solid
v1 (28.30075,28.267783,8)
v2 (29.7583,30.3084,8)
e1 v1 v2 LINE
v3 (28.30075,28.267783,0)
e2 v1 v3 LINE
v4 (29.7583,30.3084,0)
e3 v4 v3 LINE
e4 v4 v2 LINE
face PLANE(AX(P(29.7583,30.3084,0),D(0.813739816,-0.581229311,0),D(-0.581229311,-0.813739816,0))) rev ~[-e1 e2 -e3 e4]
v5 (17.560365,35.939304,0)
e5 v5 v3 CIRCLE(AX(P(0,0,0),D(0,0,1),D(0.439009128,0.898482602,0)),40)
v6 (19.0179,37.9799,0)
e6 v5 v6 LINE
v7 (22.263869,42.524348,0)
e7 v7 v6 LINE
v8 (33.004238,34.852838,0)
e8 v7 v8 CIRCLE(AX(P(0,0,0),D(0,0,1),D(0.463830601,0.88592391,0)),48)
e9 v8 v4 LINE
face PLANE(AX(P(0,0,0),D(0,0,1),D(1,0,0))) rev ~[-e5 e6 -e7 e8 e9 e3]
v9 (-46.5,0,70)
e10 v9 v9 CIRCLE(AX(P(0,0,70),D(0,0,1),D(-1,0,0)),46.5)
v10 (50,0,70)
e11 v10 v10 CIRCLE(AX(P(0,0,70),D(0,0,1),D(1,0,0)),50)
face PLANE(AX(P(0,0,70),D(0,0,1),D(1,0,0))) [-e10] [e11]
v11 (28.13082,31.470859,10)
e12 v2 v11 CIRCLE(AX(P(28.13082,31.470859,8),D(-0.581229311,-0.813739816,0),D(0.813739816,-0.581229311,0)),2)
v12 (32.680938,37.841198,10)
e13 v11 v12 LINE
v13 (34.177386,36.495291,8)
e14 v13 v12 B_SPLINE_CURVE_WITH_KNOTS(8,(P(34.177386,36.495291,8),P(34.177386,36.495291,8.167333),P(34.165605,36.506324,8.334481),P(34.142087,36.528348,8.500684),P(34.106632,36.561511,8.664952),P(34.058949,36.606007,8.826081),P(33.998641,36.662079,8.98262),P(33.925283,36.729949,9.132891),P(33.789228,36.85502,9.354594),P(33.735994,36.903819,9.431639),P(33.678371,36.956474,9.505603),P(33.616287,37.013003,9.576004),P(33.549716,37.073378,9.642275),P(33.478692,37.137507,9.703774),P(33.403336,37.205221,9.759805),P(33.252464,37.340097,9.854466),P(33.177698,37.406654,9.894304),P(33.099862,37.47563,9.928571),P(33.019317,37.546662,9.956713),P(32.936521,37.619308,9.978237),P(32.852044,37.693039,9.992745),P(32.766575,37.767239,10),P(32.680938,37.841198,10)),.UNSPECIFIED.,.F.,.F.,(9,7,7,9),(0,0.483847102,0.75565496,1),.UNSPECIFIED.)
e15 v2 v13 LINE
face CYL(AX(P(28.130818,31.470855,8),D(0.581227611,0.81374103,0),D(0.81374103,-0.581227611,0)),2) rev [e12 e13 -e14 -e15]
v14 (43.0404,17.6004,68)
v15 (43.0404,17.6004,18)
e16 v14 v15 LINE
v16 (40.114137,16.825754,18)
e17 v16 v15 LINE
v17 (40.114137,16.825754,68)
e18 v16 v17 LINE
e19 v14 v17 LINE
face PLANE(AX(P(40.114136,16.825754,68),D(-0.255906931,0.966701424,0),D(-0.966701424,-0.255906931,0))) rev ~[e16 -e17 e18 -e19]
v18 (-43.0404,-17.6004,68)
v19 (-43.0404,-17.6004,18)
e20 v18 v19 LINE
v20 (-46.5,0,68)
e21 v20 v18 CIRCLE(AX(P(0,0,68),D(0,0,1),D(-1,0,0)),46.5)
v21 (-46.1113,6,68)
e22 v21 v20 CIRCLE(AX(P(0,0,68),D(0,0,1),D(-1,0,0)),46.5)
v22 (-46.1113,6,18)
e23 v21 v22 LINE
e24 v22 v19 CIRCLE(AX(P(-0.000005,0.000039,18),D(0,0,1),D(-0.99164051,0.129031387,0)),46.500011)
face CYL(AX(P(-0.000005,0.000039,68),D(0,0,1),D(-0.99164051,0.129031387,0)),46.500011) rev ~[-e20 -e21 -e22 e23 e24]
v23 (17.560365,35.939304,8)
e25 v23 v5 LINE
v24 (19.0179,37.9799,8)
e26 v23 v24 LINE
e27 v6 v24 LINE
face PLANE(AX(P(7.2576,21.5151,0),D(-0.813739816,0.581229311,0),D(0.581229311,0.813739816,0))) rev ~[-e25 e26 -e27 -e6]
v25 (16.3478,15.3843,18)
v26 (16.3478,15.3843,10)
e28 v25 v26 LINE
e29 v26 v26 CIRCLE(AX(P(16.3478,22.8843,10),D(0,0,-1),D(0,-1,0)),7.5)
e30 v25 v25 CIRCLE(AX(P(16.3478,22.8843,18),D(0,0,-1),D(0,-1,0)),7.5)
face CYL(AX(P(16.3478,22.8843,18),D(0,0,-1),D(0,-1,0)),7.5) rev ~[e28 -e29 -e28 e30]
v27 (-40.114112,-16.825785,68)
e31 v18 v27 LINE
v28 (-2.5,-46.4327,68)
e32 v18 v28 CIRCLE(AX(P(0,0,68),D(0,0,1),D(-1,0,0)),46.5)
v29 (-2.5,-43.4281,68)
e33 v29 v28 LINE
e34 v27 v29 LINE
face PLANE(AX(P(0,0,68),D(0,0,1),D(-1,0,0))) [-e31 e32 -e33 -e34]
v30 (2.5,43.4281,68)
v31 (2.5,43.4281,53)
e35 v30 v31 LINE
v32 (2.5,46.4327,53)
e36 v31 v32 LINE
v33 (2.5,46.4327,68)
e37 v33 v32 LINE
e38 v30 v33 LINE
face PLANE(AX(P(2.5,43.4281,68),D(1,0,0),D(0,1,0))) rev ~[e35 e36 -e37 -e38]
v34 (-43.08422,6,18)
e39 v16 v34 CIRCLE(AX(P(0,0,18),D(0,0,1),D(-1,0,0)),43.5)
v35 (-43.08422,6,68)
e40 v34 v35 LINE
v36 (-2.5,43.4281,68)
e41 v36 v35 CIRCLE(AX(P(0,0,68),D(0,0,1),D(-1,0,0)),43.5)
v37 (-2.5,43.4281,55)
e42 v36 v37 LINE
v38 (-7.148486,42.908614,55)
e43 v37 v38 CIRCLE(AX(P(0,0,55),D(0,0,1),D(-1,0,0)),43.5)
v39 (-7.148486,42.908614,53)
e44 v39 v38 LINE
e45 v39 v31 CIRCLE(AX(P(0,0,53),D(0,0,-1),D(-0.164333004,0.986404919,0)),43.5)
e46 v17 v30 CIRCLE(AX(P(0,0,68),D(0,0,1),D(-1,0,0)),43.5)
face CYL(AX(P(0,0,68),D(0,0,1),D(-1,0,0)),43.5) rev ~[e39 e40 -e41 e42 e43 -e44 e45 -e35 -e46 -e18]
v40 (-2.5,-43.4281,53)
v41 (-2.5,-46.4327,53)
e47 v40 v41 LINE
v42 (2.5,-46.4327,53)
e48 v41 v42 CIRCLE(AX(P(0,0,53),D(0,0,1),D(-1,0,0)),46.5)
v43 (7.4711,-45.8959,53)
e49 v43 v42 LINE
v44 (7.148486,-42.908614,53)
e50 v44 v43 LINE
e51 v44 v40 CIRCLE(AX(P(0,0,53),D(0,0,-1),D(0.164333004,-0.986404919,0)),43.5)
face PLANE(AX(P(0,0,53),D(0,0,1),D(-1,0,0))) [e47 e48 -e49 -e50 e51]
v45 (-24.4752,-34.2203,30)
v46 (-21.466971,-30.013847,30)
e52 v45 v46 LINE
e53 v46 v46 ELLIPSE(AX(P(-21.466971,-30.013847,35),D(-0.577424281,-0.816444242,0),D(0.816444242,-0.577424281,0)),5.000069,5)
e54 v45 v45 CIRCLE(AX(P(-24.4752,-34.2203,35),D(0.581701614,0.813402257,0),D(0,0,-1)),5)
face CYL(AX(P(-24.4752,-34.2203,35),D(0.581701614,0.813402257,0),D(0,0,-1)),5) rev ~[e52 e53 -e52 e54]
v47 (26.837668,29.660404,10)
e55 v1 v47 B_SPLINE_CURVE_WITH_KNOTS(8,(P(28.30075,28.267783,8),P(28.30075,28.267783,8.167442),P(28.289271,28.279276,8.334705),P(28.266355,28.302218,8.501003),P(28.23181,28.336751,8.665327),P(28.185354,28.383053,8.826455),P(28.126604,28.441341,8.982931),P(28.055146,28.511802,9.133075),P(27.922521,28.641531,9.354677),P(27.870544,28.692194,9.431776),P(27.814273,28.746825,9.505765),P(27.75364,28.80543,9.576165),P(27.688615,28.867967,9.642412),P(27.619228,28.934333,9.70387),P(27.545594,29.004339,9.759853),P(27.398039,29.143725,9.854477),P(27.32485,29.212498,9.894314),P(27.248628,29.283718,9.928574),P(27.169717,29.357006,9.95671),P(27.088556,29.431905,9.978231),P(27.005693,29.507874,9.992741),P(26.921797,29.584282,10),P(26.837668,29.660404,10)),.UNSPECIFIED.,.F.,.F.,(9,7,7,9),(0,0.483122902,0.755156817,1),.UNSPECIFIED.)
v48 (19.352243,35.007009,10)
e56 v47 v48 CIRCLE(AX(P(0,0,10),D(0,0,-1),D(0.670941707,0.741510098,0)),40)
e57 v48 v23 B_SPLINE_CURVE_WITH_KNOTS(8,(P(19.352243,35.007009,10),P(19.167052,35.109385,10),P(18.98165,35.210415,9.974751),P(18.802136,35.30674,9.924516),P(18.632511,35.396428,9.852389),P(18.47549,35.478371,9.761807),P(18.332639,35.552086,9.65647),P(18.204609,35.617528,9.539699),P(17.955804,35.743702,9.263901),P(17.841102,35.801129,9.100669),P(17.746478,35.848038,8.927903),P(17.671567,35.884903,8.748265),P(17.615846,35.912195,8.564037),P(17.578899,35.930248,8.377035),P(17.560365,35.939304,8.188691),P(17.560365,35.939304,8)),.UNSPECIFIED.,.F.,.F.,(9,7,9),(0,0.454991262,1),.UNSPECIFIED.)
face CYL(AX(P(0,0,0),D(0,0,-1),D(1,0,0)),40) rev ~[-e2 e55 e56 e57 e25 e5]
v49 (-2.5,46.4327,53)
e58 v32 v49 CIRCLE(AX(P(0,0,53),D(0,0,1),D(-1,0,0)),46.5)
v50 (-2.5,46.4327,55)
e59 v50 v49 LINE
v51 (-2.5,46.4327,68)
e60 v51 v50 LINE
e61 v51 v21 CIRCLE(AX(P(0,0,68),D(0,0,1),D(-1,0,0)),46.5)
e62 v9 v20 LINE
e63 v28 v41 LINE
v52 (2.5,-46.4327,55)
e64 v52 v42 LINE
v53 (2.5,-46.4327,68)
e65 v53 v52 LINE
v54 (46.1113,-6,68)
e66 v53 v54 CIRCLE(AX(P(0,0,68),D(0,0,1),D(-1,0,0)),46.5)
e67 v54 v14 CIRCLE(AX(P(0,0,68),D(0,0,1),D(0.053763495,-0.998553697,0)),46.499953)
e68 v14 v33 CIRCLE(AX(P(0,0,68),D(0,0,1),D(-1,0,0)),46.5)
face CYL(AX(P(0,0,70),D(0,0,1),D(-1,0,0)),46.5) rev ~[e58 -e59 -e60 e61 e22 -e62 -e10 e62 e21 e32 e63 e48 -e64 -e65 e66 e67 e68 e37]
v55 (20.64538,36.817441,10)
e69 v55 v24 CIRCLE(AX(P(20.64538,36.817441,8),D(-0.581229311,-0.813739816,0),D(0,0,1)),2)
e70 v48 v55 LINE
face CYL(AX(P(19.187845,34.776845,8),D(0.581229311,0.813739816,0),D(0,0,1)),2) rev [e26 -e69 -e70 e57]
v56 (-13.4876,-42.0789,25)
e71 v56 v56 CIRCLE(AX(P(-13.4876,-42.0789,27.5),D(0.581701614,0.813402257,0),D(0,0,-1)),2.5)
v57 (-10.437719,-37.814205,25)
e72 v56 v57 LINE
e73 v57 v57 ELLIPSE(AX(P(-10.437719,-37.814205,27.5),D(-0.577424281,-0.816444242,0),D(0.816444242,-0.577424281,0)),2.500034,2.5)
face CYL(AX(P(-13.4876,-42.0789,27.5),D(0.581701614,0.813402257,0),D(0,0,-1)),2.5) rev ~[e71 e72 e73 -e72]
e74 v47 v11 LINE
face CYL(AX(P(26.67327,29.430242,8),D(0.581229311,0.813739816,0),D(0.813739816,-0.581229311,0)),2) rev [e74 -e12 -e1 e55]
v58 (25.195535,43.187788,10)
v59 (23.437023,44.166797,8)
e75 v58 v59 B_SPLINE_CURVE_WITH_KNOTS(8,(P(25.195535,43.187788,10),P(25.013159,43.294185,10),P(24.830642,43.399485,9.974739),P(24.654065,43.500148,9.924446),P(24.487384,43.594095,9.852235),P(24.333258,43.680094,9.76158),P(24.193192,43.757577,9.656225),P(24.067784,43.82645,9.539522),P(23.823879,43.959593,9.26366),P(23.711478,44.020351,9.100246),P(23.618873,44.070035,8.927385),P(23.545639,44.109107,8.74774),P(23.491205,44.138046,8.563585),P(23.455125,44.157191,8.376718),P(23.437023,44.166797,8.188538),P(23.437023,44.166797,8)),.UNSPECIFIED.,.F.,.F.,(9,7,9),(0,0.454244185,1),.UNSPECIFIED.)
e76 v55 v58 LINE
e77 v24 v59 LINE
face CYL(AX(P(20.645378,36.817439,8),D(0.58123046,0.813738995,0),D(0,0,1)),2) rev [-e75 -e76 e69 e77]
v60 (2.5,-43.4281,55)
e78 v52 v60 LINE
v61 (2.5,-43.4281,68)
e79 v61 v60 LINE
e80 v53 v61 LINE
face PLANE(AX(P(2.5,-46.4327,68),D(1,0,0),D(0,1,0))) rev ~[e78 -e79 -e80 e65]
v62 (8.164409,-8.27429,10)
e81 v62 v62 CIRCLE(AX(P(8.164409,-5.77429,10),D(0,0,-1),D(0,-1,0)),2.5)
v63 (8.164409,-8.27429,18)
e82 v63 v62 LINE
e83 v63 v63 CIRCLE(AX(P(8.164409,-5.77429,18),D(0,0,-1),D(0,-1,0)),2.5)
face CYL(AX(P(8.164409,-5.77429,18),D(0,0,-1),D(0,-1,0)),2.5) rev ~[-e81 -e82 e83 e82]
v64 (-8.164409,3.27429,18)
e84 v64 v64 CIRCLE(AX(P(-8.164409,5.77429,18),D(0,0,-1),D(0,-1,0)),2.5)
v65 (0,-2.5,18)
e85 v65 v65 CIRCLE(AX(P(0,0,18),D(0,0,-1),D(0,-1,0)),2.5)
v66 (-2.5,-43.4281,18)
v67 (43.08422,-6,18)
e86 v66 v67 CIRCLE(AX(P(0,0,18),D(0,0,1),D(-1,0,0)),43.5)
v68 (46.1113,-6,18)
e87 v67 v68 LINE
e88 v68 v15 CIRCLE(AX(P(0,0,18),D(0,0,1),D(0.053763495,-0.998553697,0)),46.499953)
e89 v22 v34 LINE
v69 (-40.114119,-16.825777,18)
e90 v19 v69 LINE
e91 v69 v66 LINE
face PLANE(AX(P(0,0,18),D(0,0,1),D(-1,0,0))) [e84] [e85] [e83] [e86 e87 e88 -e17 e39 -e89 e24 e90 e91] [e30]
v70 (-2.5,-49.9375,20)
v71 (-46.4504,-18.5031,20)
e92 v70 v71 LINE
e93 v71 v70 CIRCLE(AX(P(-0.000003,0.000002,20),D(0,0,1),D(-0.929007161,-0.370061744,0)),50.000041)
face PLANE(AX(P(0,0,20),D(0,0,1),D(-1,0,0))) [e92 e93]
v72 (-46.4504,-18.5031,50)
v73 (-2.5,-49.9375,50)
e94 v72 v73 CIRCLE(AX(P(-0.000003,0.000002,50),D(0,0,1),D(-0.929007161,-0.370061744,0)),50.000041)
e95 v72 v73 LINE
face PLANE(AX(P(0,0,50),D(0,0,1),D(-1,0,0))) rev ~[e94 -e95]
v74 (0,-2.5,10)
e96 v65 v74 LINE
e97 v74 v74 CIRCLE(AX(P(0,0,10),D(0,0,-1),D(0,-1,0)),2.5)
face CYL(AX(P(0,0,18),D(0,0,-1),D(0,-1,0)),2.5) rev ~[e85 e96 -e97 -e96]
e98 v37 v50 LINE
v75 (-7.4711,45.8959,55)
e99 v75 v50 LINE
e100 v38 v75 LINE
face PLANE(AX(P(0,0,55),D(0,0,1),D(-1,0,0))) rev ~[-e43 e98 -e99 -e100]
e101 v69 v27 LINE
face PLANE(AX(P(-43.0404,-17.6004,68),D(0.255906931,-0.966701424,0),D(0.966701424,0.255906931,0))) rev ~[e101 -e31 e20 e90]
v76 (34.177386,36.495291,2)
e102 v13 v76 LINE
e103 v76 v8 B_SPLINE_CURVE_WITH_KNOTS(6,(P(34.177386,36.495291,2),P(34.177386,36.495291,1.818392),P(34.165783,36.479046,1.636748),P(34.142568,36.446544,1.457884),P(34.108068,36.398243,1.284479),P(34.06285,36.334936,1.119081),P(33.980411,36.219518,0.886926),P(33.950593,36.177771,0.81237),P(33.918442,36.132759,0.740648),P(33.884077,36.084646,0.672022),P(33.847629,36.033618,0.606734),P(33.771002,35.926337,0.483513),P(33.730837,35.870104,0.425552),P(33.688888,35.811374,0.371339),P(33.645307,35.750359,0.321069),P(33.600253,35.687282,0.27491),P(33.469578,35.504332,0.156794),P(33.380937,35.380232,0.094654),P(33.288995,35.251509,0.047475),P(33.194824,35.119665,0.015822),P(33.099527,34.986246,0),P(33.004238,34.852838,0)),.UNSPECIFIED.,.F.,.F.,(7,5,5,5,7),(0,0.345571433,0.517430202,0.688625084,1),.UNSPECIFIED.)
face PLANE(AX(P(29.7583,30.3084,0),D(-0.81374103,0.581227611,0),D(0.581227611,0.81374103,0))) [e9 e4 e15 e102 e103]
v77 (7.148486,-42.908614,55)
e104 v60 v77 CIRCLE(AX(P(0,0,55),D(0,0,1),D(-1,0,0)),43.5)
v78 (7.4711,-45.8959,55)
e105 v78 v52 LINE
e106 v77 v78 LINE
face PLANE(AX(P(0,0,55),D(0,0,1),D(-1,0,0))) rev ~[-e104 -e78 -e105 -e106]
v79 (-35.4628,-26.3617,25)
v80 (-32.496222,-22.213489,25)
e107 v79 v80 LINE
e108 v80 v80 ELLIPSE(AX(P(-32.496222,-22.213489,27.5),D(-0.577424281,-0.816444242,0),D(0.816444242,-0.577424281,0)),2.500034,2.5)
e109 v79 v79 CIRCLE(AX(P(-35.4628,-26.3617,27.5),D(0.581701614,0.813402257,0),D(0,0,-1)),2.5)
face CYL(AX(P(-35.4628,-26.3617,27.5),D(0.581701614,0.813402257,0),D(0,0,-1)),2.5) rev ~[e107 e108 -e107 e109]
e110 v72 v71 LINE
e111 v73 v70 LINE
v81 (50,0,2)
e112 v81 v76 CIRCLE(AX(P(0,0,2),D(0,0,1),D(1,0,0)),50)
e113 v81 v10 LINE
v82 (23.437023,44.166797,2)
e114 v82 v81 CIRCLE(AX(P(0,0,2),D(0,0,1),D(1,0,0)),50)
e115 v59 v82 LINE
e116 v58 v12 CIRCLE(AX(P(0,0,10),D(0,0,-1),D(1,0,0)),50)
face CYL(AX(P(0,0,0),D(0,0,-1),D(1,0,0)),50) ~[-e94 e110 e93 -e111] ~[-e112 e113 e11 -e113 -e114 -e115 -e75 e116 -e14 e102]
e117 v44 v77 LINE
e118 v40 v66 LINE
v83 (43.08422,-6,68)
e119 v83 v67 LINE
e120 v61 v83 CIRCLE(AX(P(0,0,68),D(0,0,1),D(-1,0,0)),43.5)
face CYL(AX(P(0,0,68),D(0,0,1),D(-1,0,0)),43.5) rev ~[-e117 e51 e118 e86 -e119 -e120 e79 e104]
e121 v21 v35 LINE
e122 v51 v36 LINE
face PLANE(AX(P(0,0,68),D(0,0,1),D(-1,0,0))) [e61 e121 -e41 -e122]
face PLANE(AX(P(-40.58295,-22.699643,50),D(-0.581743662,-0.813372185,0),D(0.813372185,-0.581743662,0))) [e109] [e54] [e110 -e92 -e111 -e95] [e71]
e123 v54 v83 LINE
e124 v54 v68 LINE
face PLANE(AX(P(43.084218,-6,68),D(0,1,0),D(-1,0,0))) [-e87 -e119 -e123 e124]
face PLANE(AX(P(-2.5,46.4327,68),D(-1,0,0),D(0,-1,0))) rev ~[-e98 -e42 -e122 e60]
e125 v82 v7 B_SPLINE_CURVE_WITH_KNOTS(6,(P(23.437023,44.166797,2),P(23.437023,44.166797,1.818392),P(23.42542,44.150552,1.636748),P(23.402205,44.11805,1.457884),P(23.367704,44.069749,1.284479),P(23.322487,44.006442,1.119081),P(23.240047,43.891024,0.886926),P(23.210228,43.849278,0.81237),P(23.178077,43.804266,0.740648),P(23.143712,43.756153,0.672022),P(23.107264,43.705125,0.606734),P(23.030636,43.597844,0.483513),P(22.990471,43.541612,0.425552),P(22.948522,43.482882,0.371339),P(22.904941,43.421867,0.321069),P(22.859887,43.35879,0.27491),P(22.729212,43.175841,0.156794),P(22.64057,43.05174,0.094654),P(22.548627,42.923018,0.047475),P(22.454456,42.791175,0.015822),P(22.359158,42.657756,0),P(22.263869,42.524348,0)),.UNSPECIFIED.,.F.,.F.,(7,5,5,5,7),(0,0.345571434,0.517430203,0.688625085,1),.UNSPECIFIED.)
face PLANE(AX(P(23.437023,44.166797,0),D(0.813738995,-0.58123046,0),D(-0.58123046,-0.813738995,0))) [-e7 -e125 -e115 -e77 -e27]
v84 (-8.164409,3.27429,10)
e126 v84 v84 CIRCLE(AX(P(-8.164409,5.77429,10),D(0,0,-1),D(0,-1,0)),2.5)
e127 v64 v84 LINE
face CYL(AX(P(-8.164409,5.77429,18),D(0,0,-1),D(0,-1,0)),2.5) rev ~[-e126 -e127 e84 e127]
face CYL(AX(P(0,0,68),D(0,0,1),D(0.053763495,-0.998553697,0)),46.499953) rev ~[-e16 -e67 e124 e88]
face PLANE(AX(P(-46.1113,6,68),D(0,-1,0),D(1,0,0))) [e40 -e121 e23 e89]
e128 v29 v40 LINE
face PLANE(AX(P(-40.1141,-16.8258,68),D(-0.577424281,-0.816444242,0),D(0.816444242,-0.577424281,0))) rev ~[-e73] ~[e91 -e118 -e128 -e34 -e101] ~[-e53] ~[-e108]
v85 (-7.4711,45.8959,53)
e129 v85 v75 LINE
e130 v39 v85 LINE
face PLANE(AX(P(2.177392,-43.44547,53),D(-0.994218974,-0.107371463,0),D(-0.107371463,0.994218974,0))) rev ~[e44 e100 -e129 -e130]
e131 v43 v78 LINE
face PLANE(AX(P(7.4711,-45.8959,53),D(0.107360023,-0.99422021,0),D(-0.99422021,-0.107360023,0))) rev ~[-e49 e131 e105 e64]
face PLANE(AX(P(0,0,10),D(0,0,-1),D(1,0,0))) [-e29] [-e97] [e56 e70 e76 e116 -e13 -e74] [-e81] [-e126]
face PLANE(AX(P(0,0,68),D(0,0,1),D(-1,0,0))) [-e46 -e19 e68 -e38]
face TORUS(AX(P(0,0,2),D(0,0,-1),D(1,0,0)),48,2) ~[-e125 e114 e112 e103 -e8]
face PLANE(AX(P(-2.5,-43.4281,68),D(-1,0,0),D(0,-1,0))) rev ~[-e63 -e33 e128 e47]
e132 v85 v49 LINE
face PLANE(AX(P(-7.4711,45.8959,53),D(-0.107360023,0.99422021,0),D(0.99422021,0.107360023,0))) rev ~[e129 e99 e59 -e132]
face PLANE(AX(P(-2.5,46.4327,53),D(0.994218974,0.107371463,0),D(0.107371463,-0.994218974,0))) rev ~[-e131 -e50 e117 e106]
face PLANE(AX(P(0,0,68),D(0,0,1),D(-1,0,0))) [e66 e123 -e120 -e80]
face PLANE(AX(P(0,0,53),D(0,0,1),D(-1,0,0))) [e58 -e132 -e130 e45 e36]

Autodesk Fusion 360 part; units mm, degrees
sketch "Sketch1" plane through (0, 0, 0) normal (0, 0, 1) x (1, 0, 0)
  circle A0 centre (0, 0) radius 50
extrude "Extrude1" add sketch "Sketch1" along normal blind 70
sketch "Sketch2" plane through (0, 0, 0) normal (0, 0, -1) x (1, 0, 0)
  circle A0 centre (0, 0) radius 50
  circle A1 centre (0, 0) radius 40
  dimension "d3" = 80
extrude "Extrude2" cut sketch "Sketch2" against normal blind 10 contours A1
sketch "Sketch3" plane through (0, 0, 70) normal (0, 0, 1) x (-1, 0, 0)
  circle A0 centre (0, 0) radius 50
  circle A1 centre (0, 0) radius 46.5
  dimension "d6" = 93
extrude "Extrude3" cut sketch "Sketch3" against normal blind 2 contours A1
sketch "Sketch4" plane through (0, 0, 68) normal (0, 0, 1) x (-1, 0, 0)
  circle A0 centre (0, 0) radius 46.5
  circle A1 centre (0, 0) radius 43.5
  dimension "d9" = 87
extrude "Extrude4" cut sketch "Sketch4" against normal blind 50 contours A1
sketch "Sketch5" plane through (0, 0, 68) normal (0, 0, 1) x (-1, 0, 0)
  circle A0 centre (0, 0) radius 43.5
  circle A1 centre (0, 0) radius 46.5
  arc A2 (-2.5, -46.4327) -> (2.5, -46.4327) centre (0, 0) ccw
  arc A3 (2.5, 46.4327) -> (-2.5, 46.4327) centre (0, 0) ccw
  line L0 (2.5, 43.4281) -> (-2.5, 43.4281)
  line L1 (2.5, -43.4281) -> (-2.5, -43.4281)
  line L2 (2.5, -46.4327) -> (2.5, -43.4281)
  line L3 (2.5, 43.4281) -> (2.5, 46.4327)
  line L4 (-2.5, 46.4327) -> (-2.5, 43.4281)
  line L5 (-2.5, -43.4281) -> (-2.5, -46.4327)
  dimension "d12" = 5
extrude "Extrude5" cut sketch "Sketch5" against normal blind 15 contours A0 A1 A3 L3 L4 | A0 A1 A2 L2 L5
sketch "Sketch6" plane through (0, 0, 53) normal (0, 0, 1) x (-1, 0, 0)
  line L0 (2.5, 43.4281) -> (2.5, 46.4327)
  arc A0 (2.5, 46.4327) -> (-2.5, 46.4327) centre (0, 0) ccw
  line L1 (-2.5, 46.4327) -> (-2.5, 43.4281)
  arc A1 (2.5, 43.4281) -> (-2.5, 43.4281) centre (0, 0) ccw
  circle A2 centre (0, 0) radius 46.5
  line L2 (-2.5, 46.4327) -> (7.4711, -45.8959)
  line L3 (7.4711, -45.8959) -> (2.5, -46.4327)
  line L4 (2.5, -46.4327) -> (-7.4711, 45.8959)
  line L5 (-7.4711, 45.8959) -> (-2.5, 46.4327)
  dimension "d15" = 93
  dimension "d16" = 5
extrude "Extrude6" cut sketch "Sketch6" along normal blind 2 contours L1 A1 L2 L3 L4 L5
sketch "Sketch7" plane through (0, 0, 68) normal (0, 0, 1) x (-1, 0, 0)
  line L0 (-2.5, 43.4281) -> (-2.5, 46.4327)
  arc A0 (-2.5, 46.4327) -> (-2.5, -46.4327) centre (0, 0) ccw
  line L1 (-2.5, -46.4327) -> (-2.5, -43.4281)
  arc A1 (-2.5, 43.4281) -> (-2.5, -43.4281) centre (0, 0) ccw
  line L2 (-46.1113, 6) -> (-0.7807, 6)
  line L3 (-43.0404, -17.6004) -> (0.7807, -6)
  line L4 (43.0404, 17.6004) -> (-0.7807, 6)
  line L5 (46.1113, -6) -> (0.7807, -6)
  arc A2 (-46.1113, 6) -> (-43.0404, -17.6004) centre (0, 0) ccw
  arc A3 (46.1113, -6) -> (43.0404, 17.6004) centre (0, 0) ccw
  dimension "d19" = 93
  dimension "d20" = 12
  dimension "d21" = 12
extrude "Extrude7" cut sketch "Sketch7" against normal blind 50 contours A1 L2 L3 L4 L5 A3 | A0 A1 L2 L3 A2
sketch "Sketch8" plane through (0, 0, 18) normal (0, 0, 1) x (-1, 0, 0)
  arc A0 (40.1141, 16.8258) -> (-43.0842, 6) centre (0, 0) ccw
  line L0 (-43.0842, 6) -> (-46.1113, 6)
  arc A1 (-46.1113, 6) -> (-43.0404, -17.6004) centre (0, 0) ccw
  line L1 (-43.0404, -17.6004) -> (-40.1141, -16.8258)
  arc A2 (-40.1141, -16.8258) -> (43.0842, -6) centre (0, 0) ccw
  line L2 (43.0842, -6) -> (46.1113, -6)
  arc A3 (46.1113, -6) -> (43.0404, 17.6004) centre (0, 0) ccw
  line L3 (43.0404, 17.6004) -> (40.1141, 16.8258)
fillet "Fillet1" radius 2 1 edges at (-46.6164, -18.0808, 0)
sketch "Sketch11" plane through (0, 0, 68) normal (0, 0, 1) x (-1, 0, 0)
  line L0 (40.1141, 16.8258) -> (43.0404, 17.6004)
  arc A0 (43.0404, 17.6004) -> (2.5, 46.4327) centre (0, 0) ccw
  line L1 (2.5, 46.4327) -> (2.5, 43.4281)
  arc A1 (40.1141, 16.8258) -> (2.5, 43.4281) centre (0, 0) ccw
  line L2 (40.1141, 16.8258) -> (2.5, 43.4281)
  arc A2 (40.1141, 16.8258) -> (2.5, 43.4281) centre (0, 0) ccw
  dimension "d27" = 87
extrude "Extrude8" add sketch "Sketch11" against normal blind 50 contours A1 L2 A2
sketch "Sketch12" plane through (0, 0, 68) normal (0, 0, 1) x (-1, 0, 0)
  line L0 (40.1141, 16.8258) -> (43.0404, 17.6004)
  arc A0 (43.0404, 17.6004) -> (2.5, 46.4327) centre (0, 0) ccw
  line L1 (2.5, 46.4327) -> (2.5, 43.4281)
  line L2 (2.5, 43.4281) -> (40.1141, 16.8258)
  line L3 (40.1141, 16.8258) -> (46.4504, 18.5031)
  line L4 (2.5, 43.4281) -> (2.5, 49.9375)
  line L5 (46.4504, 18.5031) -> (2.5, 49.9375)
  arc A1 (46.4504, 18.5031) -> (2.5, 49.9375) centre (0, 0) ccw
  dimension "d30" = 100
extrude "Extrude9" cut sketch "Sketch12" against normal blind 30 from surface at -18 contours A0 L5 | A0 L5 A1
sketch "Sketch13" plane through (0, 0, 68) normal (0, 0, 1) x (-1, 0, 0)
  line L0 (40.1141, 16.8258) -> (43.0404, 17.6004)
  arc A0 (43.0404, 17.6004) -> (2.5, 46.4327) centre (0, 0) ccw
  line L1 (2.5, 46.4327) -> (2.5, 43.4281)
  line L2 (2.5, 43.4281) -> (40.1141, 16.8258)
  circle A1 centre (0, 0) radius 43.5
  line L3 (2.5, 43.4281) -> (40.1141, 16.8258)
extrude "Extrude10" cut sketch "Sketch13" against normal blind 15 contours L2 A1 L3 picked at (-1.1422, 13.8177)
sketch "Sketch14" plane through (0, 0, 0) normal (0, 0, -1) x (1, 0, 0)
  circle A0 centre (0, 0) radius 40
  circle A1 centre (0, 0) radius 48
  circle A2 centre (0, 0) radius 50
  dimension "d36" = 100
sketch "Sketch15" plane through (-24.4752, -34.2203, 0) normal (-0.5817, -0.8134, 0) x (0.8134, -0.5817, 0)
  line L0 (27.0174, 50) -> (-27.0174, 50)
  line L1 (-27.0174, 50) -> (-27.0174, 20)
  line L2 (-27.0174, 20) -> (27.0174, 20)
  line L3 (27.0174, 20) -> (27.0174, 50)
  line L4 (-27.0174, 20) -> (-27.0174, 0)
  line L5 (-27.0174, 0) -> (27.0174, 0)
  line L6 (27.0174, 0) -> (27.0174, 20)
sketch "Sketch16" plane through (0, 0, 0) normal (0, 0, -1) x (1, 0, 0)
  line L0 (-46.5152, 18.3394) -> (-2.261, 49.9489)
  line L1 (-2.261, 49.9489) -> (46.5152, -18.3394)
  line L2 (2.261, -49.9489) -> (-46.5152, 18.3394)
  circle A0 centre (0, 0) radius 50
  line L3 (46.5152, -18.3394) -> (29.7583, -30.3084)
  line L4 (19.0179, -37.9799) -> (2.261, -49.9489)
  line L5 (29.7583, -30.3084) -> (43.266, -49.2197)
  line L6 (43.266, -49.2197) -> (32.5257, -56.8912)
  line L7 (32.5257, -56.8912) -> (19.0179, -37.9799)
  line L8 (29.7583, -30.3084) -> (17.998, -13.8436)
  line L9 (17.998, -13.8436) -> (7.2576, -21.5151)
  line L10 (7.2576, -21.5151) -> (19.0179, -37.9799)
extrude "Extrude11" cut sketch "Sketch16" against normal blind 10 contours A0 L5 L7 L8 L9 L10 | A0 L5 L6 L7
fillet "Fillet2" radius 2 1 edges at (31.2391, 32.3815, 10)
fillet "Fillet3" radius 2 1 edges at (20.4987, 40.053, 10)
hole "Hole1" at (16.3478, 22.8843, 18) direction (0, 0, -1) diameter 15 depth 20 tip angle 118
sketch "Sketch18" plane through (-24.4752, -34.2203, 0) normal (-0.5817, -0.8134, 0) x (0.8134, -0.5817, 0)
  line L0 (27.0174, 50) -> (-27.0174, 50)
  line L1 (-27.0174, 50) -> (-27.0174, 20)
  line L2 (-27.0174, 20) -> (27.0174, 20)
  line L3 (27.0174, 20) -> (27.0174, 50)
  line L4 (-27.0174, 35) -> (27.0174, 35)
  line L5 (0, 35) -> (0, 20)
  line L6 (0, 27.5) -> (27.0174, 27.5)
  line L7 (13.5087, 27.5) -> (13.5087, 35)
  line L8 (0, 27.5) -> (-27.0174, 27.5)
  line L9 (-27.0174, 27.5) -> (-13.5087, 27.5)
  line L10 (-13.5087, 35) -> (-13.5087, 27.5)
  line L11 (0, 35) -> (0, 50)
  line L12 (0, 42.5) -> (27.0174, 42.5)
hole "Hole6" at (-35.4628, -26.3617, 27.5) direction (0.5817, 0.8134, 0) diameter 5 depth 10 tip angle 118
hole "Hole7" at (-13.4876, -42.0789, 27.5) direction (0.5817, 0.8134, 0) diameter 5 depth 10 tip angle 118
hole "Hole8" at (-24.4752, -34.2203, 35) direction (0.5817, 0.8134, 0) diameter 10 depth 10 tip angle 118
sketch "Sketch19" plane through (0, 0, 18) normal (0, 0, 1) x (-1, 0, 0)
  circle A0 centre (-16.3478, -22.8843) radius 7.5
  line L0 (40.1141, 16.8258) -> (2.5, 43.4281)
  arc A1 (2.5, 43.4281) -> (-43.0842, 6) centre (0, 0) ccw
  line L1 (-43.0842, 6) -> (-46.1113, 6)
  arc A2 (-46.1113, 6) -> (-43.0404, -17.6004) centre (0, 0) ccw
  line L2 (-43.0404, -17.6004) -> (-40.1141, -16.8258)
  arc A3 (-40.1141, -16.8258) -> (43.0842, -6) centre (0, 0) ccw
  line L3 (43.0842, -6) -> (46.1113, -6)
  arc A4 (46.1113, -6) -> (43.0404, 17.6004) centre (0, 0) ccw
  line L4 (43.0404, 17.6004) -> (40.1141, 16.8258)
  circle A5 centre (0, 0) radius 46.5
  circle A6 centre (0, 0) radius 46.5
  line L5 (43.0404, 17.6004) -> (-43.0404, -17.6004)
  line L6 (-46.1113, 6) -> (46.1113, -6)
hole "Hole9" at (0, 0, 18) direction (0, 0, -1) diameter 5 depth 8 tip angle 118
pattern_linear "R-Pattern1" count 2 spacing 10 along (0.8164, -0.5774, 0) of "Hole9"
pattern_linear "R-Pattern2" count 2 spacing 10 along (-0.8164, 0.5774, 0) of "Hole9"
